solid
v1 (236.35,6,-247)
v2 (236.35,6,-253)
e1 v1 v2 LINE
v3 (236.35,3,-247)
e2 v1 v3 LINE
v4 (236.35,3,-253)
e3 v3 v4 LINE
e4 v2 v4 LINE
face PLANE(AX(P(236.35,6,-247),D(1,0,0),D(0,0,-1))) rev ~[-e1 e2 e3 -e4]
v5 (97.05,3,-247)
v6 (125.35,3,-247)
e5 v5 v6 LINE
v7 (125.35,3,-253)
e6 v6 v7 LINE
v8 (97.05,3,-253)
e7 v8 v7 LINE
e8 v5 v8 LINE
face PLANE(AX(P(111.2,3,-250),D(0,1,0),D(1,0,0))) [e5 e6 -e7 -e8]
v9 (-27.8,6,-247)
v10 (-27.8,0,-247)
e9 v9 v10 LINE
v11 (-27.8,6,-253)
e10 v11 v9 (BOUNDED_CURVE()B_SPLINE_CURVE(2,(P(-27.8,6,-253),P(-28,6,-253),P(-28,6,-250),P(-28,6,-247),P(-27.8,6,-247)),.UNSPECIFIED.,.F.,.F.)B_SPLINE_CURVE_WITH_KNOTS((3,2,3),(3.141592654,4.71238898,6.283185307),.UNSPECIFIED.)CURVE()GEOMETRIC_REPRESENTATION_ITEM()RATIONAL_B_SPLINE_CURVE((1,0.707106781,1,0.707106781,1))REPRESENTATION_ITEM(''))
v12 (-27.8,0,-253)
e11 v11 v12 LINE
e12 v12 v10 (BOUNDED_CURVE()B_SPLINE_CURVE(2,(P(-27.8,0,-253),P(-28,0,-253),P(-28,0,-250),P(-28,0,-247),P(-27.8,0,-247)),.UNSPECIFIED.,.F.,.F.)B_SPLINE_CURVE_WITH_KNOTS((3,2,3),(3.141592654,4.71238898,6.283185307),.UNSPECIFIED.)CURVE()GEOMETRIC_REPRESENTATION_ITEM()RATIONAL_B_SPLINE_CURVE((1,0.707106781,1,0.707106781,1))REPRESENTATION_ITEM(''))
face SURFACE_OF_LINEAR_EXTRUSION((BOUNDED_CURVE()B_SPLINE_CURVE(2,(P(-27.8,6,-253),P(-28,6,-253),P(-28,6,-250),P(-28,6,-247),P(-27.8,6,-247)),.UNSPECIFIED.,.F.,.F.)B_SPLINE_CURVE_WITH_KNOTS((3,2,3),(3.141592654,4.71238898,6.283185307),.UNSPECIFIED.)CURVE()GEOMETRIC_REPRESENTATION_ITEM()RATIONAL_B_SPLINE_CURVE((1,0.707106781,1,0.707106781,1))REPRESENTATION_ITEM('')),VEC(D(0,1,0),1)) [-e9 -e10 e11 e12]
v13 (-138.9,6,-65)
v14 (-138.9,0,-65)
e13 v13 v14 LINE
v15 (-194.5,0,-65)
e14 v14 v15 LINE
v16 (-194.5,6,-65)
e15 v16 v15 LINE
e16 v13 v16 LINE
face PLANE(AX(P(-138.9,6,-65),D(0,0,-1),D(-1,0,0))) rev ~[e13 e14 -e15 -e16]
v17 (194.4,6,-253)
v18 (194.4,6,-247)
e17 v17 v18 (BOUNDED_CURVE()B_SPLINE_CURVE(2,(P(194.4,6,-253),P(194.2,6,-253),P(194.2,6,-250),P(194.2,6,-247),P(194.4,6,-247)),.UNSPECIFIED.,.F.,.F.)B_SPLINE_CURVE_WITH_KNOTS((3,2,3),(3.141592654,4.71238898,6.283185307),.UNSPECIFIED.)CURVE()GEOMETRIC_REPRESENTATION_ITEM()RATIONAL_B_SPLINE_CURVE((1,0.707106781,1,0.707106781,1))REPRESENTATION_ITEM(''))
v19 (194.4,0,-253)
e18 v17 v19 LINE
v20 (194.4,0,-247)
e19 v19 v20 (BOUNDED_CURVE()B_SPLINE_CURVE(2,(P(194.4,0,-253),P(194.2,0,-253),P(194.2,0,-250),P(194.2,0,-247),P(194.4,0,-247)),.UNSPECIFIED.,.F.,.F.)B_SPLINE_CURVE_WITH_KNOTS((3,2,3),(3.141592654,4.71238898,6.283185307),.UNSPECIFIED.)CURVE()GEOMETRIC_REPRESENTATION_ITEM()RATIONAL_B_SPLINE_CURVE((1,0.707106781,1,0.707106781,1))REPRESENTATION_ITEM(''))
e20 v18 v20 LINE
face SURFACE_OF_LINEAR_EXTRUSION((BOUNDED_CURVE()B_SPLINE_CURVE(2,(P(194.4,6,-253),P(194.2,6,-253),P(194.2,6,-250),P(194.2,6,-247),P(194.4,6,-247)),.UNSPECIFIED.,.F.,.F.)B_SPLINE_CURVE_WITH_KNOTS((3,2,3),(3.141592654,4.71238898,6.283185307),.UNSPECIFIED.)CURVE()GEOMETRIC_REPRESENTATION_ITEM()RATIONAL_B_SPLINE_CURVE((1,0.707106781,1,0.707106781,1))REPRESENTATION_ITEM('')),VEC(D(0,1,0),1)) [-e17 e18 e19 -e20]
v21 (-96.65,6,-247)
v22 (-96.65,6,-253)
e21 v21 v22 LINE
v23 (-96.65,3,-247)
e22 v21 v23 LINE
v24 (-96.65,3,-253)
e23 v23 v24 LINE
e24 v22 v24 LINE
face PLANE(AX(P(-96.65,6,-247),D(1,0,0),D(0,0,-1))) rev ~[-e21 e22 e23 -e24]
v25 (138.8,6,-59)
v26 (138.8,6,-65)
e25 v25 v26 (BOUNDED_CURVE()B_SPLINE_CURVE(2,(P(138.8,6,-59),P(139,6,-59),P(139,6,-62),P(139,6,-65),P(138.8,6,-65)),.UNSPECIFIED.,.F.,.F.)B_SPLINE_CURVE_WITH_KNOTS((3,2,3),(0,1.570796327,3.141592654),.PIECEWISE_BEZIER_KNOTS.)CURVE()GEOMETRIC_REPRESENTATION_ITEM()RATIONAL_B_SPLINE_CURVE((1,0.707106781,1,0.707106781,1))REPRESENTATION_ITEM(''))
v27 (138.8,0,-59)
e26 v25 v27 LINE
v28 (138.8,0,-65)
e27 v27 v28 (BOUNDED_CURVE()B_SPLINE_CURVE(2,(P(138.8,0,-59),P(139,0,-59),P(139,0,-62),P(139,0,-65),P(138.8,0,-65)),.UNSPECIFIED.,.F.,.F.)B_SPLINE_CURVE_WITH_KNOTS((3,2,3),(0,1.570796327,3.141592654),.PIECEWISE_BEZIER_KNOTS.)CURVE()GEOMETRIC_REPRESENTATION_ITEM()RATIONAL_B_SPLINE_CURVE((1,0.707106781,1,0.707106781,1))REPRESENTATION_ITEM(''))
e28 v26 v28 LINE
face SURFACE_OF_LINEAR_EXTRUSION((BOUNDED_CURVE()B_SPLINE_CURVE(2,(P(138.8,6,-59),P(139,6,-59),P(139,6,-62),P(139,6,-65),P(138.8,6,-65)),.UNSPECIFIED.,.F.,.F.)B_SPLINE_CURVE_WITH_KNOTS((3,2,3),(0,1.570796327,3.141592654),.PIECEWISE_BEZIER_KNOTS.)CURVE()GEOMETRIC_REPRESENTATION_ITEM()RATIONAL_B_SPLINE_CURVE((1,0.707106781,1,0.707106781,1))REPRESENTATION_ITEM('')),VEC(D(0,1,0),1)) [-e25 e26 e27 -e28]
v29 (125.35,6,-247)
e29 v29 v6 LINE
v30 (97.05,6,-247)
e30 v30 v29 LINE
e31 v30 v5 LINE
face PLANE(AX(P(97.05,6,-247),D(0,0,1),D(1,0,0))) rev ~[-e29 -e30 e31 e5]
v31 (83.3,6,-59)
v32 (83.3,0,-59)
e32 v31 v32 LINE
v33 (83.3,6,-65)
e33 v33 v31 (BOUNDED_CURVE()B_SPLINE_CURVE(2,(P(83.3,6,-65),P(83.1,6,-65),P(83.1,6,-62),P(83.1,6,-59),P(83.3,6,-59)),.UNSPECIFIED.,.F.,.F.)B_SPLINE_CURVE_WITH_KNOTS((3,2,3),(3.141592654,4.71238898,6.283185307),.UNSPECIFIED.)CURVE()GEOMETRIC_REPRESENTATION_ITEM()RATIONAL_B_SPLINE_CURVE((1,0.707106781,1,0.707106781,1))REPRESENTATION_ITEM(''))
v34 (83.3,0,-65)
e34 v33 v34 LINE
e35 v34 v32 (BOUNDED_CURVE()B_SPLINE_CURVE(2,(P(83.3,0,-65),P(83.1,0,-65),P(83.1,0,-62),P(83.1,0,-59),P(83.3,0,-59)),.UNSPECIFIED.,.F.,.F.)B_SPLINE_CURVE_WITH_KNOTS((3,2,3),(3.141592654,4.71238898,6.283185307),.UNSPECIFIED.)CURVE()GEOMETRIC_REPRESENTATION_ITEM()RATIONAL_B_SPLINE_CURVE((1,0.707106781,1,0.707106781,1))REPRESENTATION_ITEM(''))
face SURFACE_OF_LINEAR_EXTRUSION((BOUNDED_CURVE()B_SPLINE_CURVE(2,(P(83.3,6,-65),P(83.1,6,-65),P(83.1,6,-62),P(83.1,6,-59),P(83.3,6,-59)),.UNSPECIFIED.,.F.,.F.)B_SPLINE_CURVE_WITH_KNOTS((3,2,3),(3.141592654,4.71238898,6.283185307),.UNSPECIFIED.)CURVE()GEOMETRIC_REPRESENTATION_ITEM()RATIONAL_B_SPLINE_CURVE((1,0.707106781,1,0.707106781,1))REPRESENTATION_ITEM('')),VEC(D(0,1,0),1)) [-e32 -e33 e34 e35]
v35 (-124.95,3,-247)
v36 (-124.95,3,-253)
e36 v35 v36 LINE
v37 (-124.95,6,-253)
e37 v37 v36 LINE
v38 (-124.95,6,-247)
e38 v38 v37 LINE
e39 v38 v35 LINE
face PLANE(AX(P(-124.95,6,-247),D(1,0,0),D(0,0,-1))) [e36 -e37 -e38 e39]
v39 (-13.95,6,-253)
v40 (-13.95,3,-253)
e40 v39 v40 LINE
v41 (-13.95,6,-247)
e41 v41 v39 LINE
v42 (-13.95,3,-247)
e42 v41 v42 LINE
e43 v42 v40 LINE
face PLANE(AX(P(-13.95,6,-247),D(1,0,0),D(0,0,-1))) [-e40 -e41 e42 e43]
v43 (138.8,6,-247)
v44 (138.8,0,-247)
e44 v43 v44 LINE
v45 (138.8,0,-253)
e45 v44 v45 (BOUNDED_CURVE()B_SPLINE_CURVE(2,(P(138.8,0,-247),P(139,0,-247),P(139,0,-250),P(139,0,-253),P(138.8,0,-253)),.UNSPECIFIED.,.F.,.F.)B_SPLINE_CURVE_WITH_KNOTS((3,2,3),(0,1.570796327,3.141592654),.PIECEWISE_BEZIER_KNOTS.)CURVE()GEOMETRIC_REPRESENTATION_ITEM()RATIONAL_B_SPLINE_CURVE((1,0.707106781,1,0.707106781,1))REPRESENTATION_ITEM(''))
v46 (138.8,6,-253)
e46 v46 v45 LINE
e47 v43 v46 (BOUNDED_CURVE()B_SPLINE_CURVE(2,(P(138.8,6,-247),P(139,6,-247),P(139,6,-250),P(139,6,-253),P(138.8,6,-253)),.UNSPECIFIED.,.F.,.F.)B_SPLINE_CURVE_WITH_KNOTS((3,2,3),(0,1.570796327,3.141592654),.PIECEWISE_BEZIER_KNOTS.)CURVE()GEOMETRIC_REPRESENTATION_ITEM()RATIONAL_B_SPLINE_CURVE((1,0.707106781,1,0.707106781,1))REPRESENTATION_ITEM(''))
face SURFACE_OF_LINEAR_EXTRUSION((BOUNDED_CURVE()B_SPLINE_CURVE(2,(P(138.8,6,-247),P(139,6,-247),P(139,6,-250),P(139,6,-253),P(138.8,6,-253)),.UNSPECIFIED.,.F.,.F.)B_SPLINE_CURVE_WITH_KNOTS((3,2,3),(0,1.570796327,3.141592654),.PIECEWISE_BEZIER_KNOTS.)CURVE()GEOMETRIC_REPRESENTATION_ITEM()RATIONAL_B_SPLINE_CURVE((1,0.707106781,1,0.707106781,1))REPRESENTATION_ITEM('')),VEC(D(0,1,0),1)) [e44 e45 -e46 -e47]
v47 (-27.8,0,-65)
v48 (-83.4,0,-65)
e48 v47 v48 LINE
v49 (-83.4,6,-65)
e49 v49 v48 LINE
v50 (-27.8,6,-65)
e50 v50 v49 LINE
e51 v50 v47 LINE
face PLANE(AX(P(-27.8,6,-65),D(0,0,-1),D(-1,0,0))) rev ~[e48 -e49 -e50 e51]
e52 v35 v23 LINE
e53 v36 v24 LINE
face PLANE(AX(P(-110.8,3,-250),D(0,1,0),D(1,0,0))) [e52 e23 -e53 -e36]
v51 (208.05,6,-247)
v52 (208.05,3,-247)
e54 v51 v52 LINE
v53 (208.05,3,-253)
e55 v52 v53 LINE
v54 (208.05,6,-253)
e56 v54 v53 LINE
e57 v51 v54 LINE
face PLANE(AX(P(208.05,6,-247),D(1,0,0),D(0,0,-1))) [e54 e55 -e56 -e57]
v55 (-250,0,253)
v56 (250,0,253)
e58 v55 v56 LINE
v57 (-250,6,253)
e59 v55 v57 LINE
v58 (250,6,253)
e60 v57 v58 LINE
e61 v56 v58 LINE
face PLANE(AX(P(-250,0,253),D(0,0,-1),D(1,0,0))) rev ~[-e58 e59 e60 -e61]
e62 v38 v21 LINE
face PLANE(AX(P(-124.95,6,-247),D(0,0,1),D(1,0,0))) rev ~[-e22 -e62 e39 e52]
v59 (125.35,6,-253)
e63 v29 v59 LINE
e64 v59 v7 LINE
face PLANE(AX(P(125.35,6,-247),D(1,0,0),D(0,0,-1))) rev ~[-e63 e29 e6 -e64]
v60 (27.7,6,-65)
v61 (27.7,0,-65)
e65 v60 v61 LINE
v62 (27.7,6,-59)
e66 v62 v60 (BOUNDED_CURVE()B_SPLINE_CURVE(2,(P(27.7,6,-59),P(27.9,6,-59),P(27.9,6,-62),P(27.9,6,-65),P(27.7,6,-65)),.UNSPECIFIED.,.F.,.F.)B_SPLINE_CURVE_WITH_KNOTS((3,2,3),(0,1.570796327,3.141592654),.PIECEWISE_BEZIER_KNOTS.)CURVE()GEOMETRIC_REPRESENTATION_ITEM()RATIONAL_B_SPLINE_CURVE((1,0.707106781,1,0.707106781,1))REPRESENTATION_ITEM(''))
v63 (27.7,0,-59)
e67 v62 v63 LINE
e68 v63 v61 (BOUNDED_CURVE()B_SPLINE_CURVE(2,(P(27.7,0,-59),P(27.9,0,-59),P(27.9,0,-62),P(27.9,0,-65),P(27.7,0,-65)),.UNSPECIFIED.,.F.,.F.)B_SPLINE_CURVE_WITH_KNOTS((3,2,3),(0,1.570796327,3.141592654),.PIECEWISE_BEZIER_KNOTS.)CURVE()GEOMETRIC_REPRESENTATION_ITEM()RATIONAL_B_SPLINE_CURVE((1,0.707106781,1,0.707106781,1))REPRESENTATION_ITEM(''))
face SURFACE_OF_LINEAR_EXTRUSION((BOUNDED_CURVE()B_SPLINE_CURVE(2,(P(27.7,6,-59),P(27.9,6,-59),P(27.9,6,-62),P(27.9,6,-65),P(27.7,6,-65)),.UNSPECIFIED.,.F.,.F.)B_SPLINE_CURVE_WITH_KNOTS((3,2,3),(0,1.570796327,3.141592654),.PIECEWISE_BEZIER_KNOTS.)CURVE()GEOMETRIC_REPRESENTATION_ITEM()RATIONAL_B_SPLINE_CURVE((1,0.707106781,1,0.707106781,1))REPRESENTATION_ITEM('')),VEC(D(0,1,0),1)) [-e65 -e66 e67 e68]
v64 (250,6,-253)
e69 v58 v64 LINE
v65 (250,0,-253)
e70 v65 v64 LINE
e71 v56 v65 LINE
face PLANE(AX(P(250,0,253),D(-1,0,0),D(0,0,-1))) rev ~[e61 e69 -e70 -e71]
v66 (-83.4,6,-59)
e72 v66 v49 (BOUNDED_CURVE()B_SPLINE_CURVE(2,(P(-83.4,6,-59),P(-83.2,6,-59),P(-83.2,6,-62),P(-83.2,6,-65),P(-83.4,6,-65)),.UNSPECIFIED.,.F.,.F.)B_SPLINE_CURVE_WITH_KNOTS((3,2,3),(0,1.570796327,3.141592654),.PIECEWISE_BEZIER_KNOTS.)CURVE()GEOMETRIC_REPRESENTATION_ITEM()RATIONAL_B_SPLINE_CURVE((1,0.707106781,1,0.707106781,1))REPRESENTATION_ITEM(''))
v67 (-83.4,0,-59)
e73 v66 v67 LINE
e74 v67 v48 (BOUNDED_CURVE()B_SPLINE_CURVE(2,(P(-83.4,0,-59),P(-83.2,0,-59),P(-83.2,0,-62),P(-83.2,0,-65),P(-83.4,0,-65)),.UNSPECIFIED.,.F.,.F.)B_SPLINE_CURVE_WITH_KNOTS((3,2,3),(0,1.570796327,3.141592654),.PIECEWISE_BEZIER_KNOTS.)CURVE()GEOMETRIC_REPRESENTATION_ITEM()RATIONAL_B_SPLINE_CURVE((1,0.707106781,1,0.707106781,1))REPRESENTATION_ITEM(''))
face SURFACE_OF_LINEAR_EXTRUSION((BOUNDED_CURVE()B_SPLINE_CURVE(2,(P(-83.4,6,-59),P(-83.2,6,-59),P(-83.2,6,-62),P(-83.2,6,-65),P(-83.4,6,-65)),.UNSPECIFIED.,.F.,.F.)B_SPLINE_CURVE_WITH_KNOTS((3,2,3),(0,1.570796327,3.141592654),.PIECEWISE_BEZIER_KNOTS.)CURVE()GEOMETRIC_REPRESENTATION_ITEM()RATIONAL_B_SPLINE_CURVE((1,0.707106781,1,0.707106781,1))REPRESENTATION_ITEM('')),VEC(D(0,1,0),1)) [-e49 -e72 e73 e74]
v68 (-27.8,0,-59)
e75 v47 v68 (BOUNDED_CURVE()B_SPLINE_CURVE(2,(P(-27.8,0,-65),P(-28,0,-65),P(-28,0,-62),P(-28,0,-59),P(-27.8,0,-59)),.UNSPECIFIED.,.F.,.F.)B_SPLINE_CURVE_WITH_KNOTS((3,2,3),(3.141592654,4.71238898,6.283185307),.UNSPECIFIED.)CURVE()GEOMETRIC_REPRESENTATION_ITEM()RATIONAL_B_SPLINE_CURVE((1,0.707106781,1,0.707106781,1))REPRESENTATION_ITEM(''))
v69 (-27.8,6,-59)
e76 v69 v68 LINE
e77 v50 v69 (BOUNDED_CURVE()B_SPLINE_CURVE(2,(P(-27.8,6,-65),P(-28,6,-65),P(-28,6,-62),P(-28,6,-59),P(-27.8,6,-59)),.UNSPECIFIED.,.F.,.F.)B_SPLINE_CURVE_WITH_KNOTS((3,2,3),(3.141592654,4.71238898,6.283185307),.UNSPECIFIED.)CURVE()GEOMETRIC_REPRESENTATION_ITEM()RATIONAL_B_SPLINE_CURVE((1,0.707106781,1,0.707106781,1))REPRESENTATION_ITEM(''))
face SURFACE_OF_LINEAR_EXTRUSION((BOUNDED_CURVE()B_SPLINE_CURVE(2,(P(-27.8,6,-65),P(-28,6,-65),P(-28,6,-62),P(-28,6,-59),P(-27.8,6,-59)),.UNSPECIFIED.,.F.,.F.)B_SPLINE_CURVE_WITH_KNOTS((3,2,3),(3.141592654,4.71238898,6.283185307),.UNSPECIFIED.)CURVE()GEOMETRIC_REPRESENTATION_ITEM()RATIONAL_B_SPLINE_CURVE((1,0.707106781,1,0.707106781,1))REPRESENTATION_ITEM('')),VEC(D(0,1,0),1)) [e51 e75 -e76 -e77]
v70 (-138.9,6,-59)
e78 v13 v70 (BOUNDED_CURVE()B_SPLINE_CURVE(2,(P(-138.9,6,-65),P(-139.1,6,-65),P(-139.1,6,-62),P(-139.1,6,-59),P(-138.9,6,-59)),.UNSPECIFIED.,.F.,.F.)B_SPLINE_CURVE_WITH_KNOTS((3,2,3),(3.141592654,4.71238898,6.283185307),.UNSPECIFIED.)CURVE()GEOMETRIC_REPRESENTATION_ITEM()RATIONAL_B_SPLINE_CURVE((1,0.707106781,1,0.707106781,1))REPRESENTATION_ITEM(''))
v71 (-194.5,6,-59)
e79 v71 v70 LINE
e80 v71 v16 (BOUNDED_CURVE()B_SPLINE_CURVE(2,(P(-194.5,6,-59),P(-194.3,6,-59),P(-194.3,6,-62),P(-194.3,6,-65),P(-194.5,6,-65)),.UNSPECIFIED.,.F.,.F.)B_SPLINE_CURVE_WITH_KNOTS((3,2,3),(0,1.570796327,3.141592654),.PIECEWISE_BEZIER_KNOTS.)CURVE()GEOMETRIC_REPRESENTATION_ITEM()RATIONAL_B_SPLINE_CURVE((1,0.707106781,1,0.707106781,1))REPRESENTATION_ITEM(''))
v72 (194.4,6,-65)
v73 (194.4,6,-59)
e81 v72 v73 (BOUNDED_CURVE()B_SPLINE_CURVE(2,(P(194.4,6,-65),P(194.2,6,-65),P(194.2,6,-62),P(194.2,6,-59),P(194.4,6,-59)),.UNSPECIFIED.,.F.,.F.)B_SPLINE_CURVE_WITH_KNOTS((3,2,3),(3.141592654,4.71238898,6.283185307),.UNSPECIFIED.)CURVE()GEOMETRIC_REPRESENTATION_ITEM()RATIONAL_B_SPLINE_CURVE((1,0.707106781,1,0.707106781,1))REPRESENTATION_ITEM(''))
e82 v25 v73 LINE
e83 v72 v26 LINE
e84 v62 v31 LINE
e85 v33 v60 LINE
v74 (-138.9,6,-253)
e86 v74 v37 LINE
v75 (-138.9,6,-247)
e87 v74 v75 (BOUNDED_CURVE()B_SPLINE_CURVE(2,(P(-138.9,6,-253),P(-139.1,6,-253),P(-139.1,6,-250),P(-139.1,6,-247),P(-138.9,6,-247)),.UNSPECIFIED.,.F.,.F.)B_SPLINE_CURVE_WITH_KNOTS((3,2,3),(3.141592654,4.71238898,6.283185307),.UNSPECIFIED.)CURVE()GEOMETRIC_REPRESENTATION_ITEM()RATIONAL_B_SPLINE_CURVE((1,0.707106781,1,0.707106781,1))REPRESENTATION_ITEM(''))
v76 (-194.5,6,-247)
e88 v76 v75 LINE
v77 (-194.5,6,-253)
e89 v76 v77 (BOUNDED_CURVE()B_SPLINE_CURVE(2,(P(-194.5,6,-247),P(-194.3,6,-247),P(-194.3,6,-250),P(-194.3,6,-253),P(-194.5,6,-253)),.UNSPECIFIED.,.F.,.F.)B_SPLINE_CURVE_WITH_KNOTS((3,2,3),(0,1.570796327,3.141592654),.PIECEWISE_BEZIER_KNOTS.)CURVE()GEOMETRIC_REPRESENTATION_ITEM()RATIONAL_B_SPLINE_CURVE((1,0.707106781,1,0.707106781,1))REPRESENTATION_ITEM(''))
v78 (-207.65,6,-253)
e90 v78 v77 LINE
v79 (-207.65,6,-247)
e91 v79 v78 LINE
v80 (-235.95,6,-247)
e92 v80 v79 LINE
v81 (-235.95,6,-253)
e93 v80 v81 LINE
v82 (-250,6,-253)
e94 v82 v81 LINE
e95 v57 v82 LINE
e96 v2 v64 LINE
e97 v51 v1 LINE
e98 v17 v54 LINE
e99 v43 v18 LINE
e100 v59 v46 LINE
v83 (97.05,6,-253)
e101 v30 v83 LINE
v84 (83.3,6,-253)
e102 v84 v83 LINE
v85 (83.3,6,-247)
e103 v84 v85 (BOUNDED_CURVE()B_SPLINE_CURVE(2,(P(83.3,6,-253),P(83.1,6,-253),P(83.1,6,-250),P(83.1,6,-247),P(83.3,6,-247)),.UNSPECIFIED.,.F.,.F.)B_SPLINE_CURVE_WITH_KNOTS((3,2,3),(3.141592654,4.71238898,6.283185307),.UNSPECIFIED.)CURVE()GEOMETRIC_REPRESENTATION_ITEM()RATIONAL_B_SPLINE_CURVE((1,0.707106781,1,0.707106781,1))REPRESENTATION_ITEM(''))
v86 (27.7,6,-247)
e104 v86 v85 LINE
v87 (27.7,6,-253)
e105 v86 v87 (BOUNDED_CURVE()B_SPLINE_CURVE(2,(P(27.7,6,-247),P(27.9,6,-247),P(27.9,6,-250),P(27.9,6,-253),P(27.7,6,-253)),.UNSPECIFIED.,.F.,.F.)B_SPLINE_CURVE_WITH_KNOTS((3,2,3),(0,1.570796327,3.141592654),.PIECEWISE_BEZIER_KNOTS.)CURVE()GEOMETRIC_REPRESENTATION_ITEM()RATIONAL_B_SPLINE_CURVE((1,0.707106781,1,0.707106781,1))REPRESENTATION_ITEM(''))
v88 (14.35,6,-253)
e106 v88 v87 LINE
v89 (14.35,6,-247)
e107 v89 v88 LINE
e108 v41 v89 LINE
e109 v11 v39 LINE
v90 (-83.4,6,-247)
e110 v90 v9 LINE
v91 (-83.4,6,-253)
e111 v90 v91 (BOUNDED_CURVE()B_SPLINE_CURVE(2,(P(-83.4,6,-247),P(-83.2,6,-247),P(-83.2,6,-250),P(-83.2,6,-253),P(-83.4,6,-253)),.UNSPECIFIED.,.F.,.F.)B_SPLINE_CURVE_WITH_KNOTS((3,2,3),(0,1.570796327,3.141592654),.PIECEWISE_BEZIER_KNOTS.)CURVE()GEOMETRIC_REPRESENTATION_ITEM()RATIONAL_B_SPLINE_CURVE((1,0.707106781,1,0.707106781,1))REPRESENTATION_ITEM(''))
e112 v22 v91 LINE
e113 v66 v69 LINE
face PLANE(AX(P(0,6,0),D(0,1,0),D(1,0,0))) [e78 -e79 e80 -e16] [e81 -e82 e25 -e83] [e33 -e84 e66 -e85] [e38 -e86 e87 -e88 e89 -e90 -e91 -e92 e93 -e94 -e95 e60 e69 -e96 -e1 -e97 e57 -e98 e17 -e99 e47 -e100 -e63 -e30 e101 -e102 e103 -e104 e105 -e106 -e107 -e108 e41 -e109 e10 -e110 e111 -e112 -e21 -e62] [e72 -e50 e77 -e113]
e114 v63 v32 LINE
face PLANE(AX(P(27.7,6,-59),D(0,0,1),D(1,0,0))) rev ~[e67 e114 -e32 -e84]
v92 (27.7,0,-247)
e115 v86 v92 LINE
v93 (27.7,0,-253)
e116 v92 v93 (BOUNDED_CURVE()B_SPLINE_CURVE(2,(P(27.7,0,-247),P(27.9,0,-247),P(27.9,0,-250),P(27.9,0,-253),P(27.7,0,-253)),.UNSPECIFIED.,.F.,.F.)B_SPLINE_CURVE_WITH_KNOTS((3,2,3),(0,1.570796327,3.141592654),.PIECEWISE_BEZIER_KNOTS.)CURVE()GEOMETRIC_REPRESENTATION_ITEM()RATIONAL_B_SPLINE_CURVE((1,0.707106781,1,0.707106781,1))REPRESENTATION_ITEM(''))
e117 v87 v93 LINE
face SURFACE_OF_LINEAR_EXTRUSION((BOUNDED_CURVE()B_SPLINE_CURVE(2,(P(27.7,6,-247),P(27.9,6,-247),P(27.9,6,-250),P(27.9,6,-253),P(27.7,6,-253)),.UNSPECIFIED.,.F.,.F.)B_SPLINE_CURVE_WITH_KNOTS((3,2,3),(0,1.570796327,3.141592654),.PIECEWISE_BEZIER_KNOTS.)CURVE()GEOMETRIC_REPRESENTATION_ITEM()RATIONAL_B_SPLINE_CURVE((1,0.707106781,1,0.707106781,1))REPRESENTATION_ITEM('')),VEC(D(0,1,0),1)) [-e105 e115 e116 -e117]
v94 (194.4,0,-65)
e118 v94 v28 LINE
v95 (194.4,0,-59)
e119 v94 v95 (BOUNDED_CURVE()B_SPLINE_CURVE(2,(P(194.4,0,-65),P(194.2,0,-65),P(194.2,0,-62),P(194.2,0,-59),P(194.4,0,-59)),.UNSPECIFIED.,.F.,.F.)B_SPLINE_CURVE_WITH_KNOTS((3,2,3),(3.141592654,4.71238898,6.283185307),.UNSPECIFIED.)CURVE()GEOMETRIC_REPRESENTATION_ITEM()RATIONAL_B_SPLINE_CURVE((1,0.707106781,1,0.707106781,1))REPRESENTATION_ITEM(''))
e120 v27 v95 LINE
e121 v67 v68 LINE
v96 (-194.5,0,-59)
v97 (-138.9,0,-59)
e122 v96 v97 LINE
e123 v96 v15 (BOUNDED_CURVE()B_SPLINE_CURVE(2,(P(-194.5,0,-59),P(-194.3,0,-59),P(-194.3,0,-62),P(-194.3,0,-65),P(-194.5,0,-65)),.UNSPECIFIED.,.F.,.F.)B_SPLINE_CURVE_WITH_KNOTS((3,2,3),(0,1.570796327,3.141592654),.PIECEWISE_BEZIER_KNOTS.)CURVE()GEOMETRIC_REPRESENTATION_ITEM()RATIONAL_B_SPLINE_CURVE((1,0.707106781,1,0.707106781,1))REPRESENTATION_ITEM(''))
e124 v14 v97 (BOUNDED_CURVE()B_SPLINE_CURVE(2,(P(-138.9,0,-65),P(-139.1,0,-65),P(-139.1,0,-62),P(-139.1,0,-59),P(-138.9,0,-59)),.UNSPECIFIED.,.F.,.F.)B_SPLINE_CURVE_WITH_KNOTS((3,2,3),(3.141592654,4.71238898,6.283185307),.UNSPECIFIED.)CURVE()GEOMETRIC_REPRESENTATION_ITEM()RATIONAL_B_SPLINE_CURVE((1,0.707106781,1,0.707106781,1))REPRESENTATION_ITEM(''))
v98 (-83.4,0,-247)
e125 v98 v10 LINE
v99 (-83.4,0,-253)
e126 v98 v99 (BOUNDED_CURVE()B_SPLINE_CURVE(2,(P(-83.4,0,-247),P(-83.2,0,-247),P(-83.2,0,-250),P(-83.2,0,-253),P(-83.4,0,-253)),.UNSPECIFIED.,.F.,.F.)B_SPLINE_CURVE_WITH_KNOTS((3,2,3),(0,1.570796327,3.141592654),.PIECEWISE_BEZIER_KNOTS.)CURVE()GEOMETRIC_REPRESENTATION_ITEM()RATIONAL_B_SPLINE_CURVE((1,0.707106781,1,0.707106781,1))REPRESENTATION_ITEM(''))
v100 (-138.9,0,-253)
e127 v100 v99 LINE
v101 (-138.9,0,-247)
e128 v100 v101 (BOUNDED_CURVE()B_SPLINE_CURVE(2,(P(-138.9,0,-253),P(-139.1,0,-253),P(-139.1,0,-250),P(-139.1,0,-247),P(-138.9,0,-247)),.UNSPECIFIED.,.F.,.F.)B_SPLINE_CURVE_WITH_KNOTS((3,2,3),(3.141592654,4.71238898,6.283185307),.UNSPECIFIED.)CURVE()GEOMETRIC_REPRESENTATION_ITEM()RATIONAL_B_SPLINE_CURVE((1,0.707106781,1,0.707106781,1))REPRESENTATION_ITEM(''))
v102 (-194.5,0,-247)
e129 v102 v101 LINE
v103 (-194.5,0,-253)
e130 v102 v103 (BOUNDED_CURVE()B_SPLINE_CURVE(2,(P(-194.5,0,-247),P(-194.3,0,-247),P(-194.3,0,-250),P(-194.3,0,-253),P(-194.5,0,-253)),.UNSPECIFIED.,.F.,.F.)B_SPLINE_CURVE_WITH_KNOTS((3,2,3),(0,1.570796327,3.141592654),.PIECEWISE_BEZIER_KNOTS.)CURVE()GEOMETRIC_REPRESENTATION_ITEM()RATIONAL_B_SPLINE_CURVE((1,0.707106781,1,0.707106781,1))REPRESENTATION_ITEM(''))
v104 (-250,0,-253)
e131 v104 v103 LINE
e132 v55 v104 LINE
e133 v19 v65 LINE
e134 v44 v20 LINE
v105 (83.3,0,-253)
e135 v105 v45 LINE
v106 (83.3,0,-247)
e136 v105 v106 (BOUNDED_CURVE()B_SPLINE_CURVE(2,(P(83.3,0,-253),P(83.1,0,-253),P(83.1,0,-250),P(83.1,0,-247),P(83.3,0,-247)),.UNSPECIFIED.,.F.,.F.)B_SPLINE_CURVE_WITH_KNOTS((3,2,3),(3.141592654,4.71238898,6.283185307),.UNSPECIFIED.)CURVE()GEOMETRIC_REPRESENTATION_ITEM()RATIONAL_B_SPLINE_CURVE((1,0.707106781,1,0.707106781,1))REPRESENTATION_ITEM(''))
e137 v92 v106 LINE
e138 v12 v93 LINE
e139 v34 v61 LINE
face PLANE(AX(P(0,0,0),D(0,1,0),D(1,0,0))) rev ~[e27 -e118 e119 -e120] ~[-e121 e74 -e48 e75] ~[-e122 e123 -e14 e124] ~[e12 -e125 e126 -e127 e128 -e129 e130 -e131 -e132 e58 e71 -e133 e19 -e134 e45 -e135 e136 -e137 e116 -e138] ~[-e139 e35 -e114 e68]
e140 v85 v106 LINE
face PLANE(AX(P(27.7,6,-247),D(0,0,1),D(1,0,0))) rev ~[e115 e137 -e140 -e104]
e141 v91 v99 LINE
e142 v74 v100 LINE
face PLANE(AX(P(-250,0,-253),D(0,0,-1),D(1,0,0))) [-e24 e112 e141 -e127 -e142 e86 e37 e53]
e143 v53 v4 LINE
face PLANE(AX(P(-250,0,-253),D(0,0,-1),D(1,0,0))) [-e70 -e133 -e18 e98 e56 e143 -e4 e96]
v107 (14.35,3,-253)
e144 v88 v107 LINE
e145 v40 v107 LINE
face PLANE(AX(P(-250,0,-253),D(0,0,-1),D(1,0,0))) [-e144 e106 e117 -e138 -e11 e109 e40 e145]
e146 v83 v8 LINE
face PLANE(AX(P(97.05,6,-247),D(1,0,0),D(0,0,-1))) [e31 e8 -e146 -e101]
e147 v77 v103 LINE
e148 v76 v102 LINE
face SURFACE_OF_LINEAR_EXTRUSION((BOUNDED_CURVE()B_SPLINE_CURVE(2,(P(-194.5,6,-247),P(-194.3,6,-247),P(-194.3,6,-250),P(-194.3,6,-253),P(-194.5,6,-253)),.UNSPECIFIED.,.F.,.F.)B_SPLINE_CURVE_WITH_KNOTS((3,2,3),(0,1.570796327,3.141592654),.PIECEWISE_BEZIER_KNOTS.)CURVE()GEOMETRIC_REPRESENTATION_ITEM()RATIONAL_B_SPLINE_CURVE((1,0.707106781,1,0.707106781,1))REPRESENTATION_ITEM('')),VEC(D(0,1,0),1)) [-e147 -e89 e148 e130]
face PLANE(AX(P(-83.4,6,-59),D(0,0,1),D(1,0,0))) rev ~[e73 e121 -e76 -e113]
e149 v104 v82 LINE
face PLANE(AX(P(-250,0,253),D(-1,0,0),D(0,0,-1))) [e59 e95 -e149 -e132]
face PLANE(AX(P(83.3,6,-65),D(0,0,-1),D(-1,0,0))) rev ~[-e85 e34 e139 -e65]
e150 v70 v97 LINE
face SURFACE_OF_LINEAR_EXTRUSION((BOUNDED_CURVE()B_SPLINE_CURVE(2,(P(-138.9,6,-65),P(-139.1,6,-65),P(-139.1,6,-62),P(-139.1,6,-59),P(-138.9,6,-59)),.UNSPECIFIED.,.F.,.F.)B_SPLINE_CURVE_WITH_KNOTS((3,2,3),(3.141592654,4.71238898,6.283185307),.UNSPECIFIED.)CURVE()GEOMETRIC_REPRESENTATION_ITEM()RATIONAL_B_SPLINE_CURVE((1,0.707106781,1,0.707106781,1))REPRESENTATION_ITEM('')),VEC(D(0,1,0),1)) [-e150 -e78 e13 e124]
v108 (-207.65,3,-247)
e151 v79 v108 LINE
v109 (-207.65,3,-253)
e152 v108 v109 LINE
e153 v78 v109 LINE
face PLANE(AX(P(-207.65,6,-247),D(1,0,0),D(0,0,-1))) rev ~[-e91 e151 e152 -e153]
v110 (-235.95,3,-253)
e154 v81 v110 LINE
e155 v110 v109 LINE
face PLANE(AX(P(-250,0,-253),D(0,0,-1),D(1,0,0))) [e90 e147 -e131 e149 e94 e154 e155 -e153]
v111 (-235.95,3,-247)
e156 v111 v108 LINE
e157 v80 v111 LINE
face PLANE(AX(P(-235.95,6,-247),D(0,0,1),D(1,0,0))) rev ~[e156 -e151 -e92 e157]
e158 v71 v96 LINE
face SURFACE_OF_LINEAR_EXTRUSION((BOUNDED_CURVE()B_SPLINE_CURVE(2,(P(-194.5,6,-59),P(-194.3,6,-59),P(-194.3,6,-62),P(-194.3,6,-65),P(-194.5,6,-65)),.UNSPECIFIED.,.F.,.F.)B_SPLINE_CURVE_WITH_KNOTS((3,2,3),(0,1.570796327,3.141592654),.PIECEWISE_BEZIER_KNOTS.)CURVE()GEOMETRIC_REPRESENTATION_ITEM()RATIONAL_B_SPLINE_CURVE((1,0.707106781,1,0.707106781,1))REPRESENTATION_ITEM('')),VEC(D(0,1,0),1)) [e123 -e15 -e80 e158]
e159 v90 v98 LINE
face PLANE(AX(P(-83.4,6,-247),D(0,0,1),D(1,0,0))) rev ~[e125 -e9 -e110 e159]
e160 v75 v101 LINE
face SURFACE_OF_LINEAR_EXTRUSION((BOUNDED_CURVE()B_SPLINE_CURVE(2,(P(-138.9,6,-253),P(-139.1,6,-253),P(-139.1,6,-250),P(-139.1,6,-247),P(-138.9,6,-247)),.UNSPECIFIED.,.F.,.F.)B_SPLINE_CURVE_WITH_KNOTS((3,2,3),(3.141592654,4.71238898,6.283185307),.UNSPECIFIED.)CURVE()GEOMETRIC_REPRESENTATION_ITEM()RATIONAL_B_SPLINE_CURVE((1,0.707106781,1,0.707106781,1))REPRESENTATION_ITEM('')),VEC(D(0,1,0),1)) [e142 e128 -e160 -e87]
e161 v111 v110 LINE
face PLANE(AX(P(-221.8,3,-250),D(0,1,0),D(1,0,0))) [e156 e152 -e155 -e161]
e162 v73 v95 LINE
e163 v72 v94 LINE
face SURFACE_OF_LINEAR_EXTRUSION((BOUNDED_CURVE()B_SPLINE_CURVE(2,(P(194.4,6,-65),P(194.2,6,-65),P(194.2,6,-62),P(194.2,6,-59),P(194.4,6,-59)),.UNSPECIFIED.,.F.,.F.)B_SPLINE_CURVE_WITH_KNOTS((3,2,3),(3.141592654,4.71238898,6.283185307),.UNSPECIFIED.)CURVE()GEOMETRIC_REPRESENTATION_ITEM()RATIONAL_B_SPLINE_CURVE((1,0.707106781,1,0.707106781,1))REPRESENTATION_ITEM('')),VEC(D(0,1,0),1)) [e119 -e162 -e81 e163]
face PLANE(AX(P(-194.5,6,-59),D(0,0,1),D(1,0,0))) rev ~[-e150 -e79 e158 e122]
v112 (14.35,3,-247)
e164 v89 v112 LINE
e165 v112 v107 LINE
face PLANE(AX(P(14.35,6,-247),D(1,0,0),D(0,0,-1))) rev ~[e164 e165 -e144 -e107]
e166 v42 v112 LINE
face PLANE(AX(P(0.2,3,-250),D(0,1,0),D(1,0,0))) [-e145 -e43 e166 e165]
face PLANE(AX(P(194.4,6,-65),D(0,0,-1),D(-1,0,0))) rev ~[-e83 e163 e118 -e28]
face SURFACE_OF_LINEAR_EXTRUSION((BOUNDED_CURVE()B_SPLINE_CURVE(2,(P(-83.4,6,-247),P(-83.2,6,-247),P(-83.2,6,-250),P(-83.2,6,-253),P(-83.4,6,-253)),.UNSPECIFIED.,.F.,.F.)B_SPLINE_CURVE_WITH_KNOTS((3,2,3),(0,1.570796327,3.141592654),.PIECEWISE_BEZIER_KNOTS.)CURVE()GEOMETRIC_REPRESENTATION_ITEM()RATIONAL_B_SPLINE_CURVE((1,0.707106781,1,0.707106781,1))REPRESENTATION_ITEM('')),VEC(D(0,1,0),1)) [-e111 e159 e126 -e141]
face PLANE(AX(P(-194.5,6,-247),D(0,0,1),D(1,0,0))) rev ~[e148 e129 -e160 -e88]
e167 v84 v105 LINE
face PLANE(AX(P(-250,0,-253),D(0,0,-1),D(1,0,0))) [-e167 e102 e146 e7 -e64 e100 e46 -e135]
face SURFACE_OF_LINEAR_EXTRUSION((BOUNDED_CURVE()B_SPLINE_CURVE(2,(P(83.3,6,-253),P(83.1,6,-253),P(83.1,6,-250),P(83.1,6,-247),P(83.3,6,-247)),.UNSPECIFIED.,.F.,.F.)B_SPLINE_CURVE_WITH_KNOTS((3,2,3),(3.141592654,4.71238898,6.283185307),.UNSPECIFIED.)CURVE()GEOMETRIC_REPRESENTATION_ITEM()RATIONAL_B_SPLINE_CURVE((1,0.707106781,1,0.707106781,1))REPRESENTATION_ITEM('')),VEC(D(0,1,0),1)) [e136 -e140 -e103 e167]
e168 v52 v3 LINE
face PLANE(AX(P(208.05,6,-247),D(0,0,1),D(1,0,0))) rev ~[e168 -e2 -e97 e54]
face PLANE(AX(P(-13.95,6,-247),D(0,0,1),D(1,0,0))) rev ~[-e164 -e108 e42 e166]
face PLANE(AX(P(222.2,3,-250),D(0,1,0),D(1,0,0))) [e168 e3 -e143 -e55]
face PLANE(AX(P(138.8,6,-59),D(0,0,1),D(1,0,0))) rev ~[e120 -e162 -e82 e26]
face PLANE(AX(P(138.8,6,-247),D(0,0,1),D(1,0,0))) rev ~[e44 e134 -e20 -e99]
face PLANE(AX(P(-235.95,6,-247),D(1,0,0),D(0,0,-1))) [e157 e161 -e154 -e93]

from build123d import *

# Parameters (mm, degrees)
SKETCH2_W              = 500
SKETCH2_H              = 506
BOSS_EXTRUDE1_DEPTH    = 6
CUT_EXTRUDE1_DEPTH     = 6
LPATTERN1_COUNT        = 4
LPATTERN1_PITCH        = 111.1
LPATTERN2_COUNT        = 2
LPATTERN2_PITCH        = 188
LPATTERN3_COPY_1_DEPTH = 6
LPATTERN3_COPY_2_DEPTH = 6
LPATTERN3_COPY_3_DEPTH = 6
SKETCH9_W              = 28.3
SKETCH9_H              = 6
CUT_EXTRUDE3_DEPTH     = 3
LPATTERN5_COUNT        = 5
LPATTERN5_PITCH        = 111


with BuildPart() as part:
    # Sketch2 → Boss-Extrude1 (new body)
    with BuildSketch(Plane(origin=(0, 0, 0), x_dir=(1, 0, 0), z_dir=(0, 1, 0))):
        Rectangle(SKETCH2_W, SKETCH2_H)
    extrude(amount=BOSS_EXTRUDE1_DEPTH)

    # Sketch3 → Cut-Extrude1 (cut)
    with BuildSketch(Plane(origin=(0, 6, 0), x_dir=(1, 0, 0), z_dir=(0, 1, 0))):
        with BuildLine():
            add(Edge.make_bspline(
                [(194.4, 253), (194.2, 253), (194.2, 250), (194.2, 247), (194.4, 247)],
                knots=[3.141592654, 3.141592654, 3.141592654, 4.71238898, 4.71238898, 6.283185307, 6.283185307, 6.283185307], degree=2, weights=[1, 0.707106781, 1, 0.707106781, 1]))
            Line((194.4, 253), (138.8, 253))
            add(Edge.make_bspline(
                [(138.8, 247), (139, 247), (139, 250), (139, 253), (138.8, 253)],
                knots=[0, 0, 0, 1.570796327, 1.570796327, 3.141592654, 3.141592654, 3.141592654], degree=2, weights=[1, 0.707106781, 1, 0.707106781, 1]))
            Line((138.8, 247), (194.4, 247))
        make_face()
    cut_extrude1 = extrude(amount=-CUT_EXTRUDE1_DEPTH, mode=Mode.SUBTRACT)

    # LPattern1: Cut-Extrude1 ×4
    with Locations(*[(-i * LPATTERN1_PITCH, 0, 0) for i in range(1, LPATTERN1_COUNT)]):
        add(cut_extrude1, mode=Mode.SUBTRACT)

    # LPattern2: Cut-Extrude1 ×2
    with Locations(*[(0, 0, i * LPATTERN2_PITCH) for i in range(1, LPATTERN2_COUNT)]):
        add(cut_extrude1, mode=Mode.SUBTRACT)

    # LPattern3 copy 1 sketch → LPattern3 copy 1 (cut)
    with BuildSketch(Plane(origin=(-111.1, 6, 188), x_dir=(1, 0, 0), z_dir=(0, 1, 0))):
        with BuildLine():
            add(Edge.make_bspline(
                [(194.4, 253), (194.2, 253), (194.2, 250), (194.2, 247), (194.4, 247)],
                knots=[3.141592654, 3.141592654, 3.141592654, 4.71238898, 4.71238898, 6.283185307, 6.283185307, 6.283185307], degree=2, weights=[1, 0.707106781, 1, 0.707106781, 1]))
            Line((194.4, 253), (138.8, 253))
            add(Edge.make_bspline(
                [(138.8, 247), (139, 247), (139, 250), (139, 253), (138.8, 253)],
                knots=[0, 0, 0, 1.570796327, 1.570796327, 3.141592654, 3.141592654, 3.141592654], degree=2, weights=[1, 0.707106781, 1, 0.707106781, 1]))
            Line((138.8, 247), (194.4, 247))
        make_face()
    extrude(amount=-LPATTERN3_COPY_1_DEPTH, mode=Mode.SUBTRACT)

    # LPattern3 copy 2 sketch → LPattern3 copy 2 (cut)
    with BuildSketch(Plane(origin=(-222.2, 6, 188), x_dir=(1, 0, 0), z_dir=(0, 1, 0))):
        with BuildLine():
            add(Edge.make_bspline(
                [(194.4, 253), (194.2, 253), (194.2, 250), (194.2, 247), (194.4, 247)],
                knots=[3.141592654, 3.141592654, 3.141592654, 4.71238898, 4.71238898, 6.283185307, 6.283185307, 6.283185307], degree=2, weights=[1, 0.707106781, 1, 0.707106781, 1]))
            Line((194.4, 253), (138.8, 253))
            add(Edge.make_bspline(
                [(138.8, 247), (139, 247), (139, 250), (139, 253), (138.8, 253)],
                knots=[0, 0, 0, 1.570796327, 1.570796327, 3.141592654, 3.141592654, 3.141592654], degree=2, weights=[1, 0.707106781, 1, 0.707106781, 1]))
            Line((138.8, 247), (194.4, 247))
        make_face()
    extrude(amount=-LPATTERN3_COPY_2_DEPTH, mode=Mode.SUBTRACT)

    # LPattern3 copy 3 sketch → LPattern3 copy 3 (cut)
    with BuildSketch(Plane(origin=(-333.3, 6, 188), x_dir=(1, 0, 0), z_dir=(0, 1, 0))):
        with BuildLine():
            add(Edge.make_bspline(
                [(194.4, 253), (194.2, 253), (194.2, 250), (194.2, 247), (194.4, 247)],
                knots=[3.141592654, 3.141592654, 3.141592654, 4.71238898, 4.71238898, 6.283185307, 6.283185307, 6.283185307], degree=2, weights=[1, 0.707106781, 1, 0.707106781, 1]))
            Line((194.4, 253), (138.8, 253))
            add(Edge.make_bspline(
                [(138.8, 247), (139, 247), (139, 250), (139, 253), (138.8, 253)],
                knots=[0, 0, 0, 1.570796327, 1.570796327, 3.141592654, 3.141592654, 3.141592654], degree=2, weights=[1, 0.707106781, 1, 0.707106781, 1]))
            Line((138.8, 247), (194.4, 247))
        make_face()
    extrude(amount=-LPATTERN3_COPY_3_DEPTH, mode=Mode.SUBTRACT)

    # Sketch9 → Cut-Extrude3 (cut)
    with BuildSketch(Plane(origin=(0, 6, 0), x_dir=(1, 0, 0), z_dir=(0, 1, 0))):
        with Locations((222.2, 250)):
            Rectangle(SKETCH9_W, SKETCH9_H)
    cut_extrude3 = extrude(amount=-CUT_EXTRUDE3_DEPTH, mode=Mode.SUBTRACT)

    # LPattern5: Cut-Extrude3 ×5
    with Locations(*[(-i * LPATTERN5_PITCH, 0, 0) for i in range(1, LPATTERN5_COUNT)]):
        add(cut_extrude3, mode=Mode.SUBTRACT)


solid = part.part
